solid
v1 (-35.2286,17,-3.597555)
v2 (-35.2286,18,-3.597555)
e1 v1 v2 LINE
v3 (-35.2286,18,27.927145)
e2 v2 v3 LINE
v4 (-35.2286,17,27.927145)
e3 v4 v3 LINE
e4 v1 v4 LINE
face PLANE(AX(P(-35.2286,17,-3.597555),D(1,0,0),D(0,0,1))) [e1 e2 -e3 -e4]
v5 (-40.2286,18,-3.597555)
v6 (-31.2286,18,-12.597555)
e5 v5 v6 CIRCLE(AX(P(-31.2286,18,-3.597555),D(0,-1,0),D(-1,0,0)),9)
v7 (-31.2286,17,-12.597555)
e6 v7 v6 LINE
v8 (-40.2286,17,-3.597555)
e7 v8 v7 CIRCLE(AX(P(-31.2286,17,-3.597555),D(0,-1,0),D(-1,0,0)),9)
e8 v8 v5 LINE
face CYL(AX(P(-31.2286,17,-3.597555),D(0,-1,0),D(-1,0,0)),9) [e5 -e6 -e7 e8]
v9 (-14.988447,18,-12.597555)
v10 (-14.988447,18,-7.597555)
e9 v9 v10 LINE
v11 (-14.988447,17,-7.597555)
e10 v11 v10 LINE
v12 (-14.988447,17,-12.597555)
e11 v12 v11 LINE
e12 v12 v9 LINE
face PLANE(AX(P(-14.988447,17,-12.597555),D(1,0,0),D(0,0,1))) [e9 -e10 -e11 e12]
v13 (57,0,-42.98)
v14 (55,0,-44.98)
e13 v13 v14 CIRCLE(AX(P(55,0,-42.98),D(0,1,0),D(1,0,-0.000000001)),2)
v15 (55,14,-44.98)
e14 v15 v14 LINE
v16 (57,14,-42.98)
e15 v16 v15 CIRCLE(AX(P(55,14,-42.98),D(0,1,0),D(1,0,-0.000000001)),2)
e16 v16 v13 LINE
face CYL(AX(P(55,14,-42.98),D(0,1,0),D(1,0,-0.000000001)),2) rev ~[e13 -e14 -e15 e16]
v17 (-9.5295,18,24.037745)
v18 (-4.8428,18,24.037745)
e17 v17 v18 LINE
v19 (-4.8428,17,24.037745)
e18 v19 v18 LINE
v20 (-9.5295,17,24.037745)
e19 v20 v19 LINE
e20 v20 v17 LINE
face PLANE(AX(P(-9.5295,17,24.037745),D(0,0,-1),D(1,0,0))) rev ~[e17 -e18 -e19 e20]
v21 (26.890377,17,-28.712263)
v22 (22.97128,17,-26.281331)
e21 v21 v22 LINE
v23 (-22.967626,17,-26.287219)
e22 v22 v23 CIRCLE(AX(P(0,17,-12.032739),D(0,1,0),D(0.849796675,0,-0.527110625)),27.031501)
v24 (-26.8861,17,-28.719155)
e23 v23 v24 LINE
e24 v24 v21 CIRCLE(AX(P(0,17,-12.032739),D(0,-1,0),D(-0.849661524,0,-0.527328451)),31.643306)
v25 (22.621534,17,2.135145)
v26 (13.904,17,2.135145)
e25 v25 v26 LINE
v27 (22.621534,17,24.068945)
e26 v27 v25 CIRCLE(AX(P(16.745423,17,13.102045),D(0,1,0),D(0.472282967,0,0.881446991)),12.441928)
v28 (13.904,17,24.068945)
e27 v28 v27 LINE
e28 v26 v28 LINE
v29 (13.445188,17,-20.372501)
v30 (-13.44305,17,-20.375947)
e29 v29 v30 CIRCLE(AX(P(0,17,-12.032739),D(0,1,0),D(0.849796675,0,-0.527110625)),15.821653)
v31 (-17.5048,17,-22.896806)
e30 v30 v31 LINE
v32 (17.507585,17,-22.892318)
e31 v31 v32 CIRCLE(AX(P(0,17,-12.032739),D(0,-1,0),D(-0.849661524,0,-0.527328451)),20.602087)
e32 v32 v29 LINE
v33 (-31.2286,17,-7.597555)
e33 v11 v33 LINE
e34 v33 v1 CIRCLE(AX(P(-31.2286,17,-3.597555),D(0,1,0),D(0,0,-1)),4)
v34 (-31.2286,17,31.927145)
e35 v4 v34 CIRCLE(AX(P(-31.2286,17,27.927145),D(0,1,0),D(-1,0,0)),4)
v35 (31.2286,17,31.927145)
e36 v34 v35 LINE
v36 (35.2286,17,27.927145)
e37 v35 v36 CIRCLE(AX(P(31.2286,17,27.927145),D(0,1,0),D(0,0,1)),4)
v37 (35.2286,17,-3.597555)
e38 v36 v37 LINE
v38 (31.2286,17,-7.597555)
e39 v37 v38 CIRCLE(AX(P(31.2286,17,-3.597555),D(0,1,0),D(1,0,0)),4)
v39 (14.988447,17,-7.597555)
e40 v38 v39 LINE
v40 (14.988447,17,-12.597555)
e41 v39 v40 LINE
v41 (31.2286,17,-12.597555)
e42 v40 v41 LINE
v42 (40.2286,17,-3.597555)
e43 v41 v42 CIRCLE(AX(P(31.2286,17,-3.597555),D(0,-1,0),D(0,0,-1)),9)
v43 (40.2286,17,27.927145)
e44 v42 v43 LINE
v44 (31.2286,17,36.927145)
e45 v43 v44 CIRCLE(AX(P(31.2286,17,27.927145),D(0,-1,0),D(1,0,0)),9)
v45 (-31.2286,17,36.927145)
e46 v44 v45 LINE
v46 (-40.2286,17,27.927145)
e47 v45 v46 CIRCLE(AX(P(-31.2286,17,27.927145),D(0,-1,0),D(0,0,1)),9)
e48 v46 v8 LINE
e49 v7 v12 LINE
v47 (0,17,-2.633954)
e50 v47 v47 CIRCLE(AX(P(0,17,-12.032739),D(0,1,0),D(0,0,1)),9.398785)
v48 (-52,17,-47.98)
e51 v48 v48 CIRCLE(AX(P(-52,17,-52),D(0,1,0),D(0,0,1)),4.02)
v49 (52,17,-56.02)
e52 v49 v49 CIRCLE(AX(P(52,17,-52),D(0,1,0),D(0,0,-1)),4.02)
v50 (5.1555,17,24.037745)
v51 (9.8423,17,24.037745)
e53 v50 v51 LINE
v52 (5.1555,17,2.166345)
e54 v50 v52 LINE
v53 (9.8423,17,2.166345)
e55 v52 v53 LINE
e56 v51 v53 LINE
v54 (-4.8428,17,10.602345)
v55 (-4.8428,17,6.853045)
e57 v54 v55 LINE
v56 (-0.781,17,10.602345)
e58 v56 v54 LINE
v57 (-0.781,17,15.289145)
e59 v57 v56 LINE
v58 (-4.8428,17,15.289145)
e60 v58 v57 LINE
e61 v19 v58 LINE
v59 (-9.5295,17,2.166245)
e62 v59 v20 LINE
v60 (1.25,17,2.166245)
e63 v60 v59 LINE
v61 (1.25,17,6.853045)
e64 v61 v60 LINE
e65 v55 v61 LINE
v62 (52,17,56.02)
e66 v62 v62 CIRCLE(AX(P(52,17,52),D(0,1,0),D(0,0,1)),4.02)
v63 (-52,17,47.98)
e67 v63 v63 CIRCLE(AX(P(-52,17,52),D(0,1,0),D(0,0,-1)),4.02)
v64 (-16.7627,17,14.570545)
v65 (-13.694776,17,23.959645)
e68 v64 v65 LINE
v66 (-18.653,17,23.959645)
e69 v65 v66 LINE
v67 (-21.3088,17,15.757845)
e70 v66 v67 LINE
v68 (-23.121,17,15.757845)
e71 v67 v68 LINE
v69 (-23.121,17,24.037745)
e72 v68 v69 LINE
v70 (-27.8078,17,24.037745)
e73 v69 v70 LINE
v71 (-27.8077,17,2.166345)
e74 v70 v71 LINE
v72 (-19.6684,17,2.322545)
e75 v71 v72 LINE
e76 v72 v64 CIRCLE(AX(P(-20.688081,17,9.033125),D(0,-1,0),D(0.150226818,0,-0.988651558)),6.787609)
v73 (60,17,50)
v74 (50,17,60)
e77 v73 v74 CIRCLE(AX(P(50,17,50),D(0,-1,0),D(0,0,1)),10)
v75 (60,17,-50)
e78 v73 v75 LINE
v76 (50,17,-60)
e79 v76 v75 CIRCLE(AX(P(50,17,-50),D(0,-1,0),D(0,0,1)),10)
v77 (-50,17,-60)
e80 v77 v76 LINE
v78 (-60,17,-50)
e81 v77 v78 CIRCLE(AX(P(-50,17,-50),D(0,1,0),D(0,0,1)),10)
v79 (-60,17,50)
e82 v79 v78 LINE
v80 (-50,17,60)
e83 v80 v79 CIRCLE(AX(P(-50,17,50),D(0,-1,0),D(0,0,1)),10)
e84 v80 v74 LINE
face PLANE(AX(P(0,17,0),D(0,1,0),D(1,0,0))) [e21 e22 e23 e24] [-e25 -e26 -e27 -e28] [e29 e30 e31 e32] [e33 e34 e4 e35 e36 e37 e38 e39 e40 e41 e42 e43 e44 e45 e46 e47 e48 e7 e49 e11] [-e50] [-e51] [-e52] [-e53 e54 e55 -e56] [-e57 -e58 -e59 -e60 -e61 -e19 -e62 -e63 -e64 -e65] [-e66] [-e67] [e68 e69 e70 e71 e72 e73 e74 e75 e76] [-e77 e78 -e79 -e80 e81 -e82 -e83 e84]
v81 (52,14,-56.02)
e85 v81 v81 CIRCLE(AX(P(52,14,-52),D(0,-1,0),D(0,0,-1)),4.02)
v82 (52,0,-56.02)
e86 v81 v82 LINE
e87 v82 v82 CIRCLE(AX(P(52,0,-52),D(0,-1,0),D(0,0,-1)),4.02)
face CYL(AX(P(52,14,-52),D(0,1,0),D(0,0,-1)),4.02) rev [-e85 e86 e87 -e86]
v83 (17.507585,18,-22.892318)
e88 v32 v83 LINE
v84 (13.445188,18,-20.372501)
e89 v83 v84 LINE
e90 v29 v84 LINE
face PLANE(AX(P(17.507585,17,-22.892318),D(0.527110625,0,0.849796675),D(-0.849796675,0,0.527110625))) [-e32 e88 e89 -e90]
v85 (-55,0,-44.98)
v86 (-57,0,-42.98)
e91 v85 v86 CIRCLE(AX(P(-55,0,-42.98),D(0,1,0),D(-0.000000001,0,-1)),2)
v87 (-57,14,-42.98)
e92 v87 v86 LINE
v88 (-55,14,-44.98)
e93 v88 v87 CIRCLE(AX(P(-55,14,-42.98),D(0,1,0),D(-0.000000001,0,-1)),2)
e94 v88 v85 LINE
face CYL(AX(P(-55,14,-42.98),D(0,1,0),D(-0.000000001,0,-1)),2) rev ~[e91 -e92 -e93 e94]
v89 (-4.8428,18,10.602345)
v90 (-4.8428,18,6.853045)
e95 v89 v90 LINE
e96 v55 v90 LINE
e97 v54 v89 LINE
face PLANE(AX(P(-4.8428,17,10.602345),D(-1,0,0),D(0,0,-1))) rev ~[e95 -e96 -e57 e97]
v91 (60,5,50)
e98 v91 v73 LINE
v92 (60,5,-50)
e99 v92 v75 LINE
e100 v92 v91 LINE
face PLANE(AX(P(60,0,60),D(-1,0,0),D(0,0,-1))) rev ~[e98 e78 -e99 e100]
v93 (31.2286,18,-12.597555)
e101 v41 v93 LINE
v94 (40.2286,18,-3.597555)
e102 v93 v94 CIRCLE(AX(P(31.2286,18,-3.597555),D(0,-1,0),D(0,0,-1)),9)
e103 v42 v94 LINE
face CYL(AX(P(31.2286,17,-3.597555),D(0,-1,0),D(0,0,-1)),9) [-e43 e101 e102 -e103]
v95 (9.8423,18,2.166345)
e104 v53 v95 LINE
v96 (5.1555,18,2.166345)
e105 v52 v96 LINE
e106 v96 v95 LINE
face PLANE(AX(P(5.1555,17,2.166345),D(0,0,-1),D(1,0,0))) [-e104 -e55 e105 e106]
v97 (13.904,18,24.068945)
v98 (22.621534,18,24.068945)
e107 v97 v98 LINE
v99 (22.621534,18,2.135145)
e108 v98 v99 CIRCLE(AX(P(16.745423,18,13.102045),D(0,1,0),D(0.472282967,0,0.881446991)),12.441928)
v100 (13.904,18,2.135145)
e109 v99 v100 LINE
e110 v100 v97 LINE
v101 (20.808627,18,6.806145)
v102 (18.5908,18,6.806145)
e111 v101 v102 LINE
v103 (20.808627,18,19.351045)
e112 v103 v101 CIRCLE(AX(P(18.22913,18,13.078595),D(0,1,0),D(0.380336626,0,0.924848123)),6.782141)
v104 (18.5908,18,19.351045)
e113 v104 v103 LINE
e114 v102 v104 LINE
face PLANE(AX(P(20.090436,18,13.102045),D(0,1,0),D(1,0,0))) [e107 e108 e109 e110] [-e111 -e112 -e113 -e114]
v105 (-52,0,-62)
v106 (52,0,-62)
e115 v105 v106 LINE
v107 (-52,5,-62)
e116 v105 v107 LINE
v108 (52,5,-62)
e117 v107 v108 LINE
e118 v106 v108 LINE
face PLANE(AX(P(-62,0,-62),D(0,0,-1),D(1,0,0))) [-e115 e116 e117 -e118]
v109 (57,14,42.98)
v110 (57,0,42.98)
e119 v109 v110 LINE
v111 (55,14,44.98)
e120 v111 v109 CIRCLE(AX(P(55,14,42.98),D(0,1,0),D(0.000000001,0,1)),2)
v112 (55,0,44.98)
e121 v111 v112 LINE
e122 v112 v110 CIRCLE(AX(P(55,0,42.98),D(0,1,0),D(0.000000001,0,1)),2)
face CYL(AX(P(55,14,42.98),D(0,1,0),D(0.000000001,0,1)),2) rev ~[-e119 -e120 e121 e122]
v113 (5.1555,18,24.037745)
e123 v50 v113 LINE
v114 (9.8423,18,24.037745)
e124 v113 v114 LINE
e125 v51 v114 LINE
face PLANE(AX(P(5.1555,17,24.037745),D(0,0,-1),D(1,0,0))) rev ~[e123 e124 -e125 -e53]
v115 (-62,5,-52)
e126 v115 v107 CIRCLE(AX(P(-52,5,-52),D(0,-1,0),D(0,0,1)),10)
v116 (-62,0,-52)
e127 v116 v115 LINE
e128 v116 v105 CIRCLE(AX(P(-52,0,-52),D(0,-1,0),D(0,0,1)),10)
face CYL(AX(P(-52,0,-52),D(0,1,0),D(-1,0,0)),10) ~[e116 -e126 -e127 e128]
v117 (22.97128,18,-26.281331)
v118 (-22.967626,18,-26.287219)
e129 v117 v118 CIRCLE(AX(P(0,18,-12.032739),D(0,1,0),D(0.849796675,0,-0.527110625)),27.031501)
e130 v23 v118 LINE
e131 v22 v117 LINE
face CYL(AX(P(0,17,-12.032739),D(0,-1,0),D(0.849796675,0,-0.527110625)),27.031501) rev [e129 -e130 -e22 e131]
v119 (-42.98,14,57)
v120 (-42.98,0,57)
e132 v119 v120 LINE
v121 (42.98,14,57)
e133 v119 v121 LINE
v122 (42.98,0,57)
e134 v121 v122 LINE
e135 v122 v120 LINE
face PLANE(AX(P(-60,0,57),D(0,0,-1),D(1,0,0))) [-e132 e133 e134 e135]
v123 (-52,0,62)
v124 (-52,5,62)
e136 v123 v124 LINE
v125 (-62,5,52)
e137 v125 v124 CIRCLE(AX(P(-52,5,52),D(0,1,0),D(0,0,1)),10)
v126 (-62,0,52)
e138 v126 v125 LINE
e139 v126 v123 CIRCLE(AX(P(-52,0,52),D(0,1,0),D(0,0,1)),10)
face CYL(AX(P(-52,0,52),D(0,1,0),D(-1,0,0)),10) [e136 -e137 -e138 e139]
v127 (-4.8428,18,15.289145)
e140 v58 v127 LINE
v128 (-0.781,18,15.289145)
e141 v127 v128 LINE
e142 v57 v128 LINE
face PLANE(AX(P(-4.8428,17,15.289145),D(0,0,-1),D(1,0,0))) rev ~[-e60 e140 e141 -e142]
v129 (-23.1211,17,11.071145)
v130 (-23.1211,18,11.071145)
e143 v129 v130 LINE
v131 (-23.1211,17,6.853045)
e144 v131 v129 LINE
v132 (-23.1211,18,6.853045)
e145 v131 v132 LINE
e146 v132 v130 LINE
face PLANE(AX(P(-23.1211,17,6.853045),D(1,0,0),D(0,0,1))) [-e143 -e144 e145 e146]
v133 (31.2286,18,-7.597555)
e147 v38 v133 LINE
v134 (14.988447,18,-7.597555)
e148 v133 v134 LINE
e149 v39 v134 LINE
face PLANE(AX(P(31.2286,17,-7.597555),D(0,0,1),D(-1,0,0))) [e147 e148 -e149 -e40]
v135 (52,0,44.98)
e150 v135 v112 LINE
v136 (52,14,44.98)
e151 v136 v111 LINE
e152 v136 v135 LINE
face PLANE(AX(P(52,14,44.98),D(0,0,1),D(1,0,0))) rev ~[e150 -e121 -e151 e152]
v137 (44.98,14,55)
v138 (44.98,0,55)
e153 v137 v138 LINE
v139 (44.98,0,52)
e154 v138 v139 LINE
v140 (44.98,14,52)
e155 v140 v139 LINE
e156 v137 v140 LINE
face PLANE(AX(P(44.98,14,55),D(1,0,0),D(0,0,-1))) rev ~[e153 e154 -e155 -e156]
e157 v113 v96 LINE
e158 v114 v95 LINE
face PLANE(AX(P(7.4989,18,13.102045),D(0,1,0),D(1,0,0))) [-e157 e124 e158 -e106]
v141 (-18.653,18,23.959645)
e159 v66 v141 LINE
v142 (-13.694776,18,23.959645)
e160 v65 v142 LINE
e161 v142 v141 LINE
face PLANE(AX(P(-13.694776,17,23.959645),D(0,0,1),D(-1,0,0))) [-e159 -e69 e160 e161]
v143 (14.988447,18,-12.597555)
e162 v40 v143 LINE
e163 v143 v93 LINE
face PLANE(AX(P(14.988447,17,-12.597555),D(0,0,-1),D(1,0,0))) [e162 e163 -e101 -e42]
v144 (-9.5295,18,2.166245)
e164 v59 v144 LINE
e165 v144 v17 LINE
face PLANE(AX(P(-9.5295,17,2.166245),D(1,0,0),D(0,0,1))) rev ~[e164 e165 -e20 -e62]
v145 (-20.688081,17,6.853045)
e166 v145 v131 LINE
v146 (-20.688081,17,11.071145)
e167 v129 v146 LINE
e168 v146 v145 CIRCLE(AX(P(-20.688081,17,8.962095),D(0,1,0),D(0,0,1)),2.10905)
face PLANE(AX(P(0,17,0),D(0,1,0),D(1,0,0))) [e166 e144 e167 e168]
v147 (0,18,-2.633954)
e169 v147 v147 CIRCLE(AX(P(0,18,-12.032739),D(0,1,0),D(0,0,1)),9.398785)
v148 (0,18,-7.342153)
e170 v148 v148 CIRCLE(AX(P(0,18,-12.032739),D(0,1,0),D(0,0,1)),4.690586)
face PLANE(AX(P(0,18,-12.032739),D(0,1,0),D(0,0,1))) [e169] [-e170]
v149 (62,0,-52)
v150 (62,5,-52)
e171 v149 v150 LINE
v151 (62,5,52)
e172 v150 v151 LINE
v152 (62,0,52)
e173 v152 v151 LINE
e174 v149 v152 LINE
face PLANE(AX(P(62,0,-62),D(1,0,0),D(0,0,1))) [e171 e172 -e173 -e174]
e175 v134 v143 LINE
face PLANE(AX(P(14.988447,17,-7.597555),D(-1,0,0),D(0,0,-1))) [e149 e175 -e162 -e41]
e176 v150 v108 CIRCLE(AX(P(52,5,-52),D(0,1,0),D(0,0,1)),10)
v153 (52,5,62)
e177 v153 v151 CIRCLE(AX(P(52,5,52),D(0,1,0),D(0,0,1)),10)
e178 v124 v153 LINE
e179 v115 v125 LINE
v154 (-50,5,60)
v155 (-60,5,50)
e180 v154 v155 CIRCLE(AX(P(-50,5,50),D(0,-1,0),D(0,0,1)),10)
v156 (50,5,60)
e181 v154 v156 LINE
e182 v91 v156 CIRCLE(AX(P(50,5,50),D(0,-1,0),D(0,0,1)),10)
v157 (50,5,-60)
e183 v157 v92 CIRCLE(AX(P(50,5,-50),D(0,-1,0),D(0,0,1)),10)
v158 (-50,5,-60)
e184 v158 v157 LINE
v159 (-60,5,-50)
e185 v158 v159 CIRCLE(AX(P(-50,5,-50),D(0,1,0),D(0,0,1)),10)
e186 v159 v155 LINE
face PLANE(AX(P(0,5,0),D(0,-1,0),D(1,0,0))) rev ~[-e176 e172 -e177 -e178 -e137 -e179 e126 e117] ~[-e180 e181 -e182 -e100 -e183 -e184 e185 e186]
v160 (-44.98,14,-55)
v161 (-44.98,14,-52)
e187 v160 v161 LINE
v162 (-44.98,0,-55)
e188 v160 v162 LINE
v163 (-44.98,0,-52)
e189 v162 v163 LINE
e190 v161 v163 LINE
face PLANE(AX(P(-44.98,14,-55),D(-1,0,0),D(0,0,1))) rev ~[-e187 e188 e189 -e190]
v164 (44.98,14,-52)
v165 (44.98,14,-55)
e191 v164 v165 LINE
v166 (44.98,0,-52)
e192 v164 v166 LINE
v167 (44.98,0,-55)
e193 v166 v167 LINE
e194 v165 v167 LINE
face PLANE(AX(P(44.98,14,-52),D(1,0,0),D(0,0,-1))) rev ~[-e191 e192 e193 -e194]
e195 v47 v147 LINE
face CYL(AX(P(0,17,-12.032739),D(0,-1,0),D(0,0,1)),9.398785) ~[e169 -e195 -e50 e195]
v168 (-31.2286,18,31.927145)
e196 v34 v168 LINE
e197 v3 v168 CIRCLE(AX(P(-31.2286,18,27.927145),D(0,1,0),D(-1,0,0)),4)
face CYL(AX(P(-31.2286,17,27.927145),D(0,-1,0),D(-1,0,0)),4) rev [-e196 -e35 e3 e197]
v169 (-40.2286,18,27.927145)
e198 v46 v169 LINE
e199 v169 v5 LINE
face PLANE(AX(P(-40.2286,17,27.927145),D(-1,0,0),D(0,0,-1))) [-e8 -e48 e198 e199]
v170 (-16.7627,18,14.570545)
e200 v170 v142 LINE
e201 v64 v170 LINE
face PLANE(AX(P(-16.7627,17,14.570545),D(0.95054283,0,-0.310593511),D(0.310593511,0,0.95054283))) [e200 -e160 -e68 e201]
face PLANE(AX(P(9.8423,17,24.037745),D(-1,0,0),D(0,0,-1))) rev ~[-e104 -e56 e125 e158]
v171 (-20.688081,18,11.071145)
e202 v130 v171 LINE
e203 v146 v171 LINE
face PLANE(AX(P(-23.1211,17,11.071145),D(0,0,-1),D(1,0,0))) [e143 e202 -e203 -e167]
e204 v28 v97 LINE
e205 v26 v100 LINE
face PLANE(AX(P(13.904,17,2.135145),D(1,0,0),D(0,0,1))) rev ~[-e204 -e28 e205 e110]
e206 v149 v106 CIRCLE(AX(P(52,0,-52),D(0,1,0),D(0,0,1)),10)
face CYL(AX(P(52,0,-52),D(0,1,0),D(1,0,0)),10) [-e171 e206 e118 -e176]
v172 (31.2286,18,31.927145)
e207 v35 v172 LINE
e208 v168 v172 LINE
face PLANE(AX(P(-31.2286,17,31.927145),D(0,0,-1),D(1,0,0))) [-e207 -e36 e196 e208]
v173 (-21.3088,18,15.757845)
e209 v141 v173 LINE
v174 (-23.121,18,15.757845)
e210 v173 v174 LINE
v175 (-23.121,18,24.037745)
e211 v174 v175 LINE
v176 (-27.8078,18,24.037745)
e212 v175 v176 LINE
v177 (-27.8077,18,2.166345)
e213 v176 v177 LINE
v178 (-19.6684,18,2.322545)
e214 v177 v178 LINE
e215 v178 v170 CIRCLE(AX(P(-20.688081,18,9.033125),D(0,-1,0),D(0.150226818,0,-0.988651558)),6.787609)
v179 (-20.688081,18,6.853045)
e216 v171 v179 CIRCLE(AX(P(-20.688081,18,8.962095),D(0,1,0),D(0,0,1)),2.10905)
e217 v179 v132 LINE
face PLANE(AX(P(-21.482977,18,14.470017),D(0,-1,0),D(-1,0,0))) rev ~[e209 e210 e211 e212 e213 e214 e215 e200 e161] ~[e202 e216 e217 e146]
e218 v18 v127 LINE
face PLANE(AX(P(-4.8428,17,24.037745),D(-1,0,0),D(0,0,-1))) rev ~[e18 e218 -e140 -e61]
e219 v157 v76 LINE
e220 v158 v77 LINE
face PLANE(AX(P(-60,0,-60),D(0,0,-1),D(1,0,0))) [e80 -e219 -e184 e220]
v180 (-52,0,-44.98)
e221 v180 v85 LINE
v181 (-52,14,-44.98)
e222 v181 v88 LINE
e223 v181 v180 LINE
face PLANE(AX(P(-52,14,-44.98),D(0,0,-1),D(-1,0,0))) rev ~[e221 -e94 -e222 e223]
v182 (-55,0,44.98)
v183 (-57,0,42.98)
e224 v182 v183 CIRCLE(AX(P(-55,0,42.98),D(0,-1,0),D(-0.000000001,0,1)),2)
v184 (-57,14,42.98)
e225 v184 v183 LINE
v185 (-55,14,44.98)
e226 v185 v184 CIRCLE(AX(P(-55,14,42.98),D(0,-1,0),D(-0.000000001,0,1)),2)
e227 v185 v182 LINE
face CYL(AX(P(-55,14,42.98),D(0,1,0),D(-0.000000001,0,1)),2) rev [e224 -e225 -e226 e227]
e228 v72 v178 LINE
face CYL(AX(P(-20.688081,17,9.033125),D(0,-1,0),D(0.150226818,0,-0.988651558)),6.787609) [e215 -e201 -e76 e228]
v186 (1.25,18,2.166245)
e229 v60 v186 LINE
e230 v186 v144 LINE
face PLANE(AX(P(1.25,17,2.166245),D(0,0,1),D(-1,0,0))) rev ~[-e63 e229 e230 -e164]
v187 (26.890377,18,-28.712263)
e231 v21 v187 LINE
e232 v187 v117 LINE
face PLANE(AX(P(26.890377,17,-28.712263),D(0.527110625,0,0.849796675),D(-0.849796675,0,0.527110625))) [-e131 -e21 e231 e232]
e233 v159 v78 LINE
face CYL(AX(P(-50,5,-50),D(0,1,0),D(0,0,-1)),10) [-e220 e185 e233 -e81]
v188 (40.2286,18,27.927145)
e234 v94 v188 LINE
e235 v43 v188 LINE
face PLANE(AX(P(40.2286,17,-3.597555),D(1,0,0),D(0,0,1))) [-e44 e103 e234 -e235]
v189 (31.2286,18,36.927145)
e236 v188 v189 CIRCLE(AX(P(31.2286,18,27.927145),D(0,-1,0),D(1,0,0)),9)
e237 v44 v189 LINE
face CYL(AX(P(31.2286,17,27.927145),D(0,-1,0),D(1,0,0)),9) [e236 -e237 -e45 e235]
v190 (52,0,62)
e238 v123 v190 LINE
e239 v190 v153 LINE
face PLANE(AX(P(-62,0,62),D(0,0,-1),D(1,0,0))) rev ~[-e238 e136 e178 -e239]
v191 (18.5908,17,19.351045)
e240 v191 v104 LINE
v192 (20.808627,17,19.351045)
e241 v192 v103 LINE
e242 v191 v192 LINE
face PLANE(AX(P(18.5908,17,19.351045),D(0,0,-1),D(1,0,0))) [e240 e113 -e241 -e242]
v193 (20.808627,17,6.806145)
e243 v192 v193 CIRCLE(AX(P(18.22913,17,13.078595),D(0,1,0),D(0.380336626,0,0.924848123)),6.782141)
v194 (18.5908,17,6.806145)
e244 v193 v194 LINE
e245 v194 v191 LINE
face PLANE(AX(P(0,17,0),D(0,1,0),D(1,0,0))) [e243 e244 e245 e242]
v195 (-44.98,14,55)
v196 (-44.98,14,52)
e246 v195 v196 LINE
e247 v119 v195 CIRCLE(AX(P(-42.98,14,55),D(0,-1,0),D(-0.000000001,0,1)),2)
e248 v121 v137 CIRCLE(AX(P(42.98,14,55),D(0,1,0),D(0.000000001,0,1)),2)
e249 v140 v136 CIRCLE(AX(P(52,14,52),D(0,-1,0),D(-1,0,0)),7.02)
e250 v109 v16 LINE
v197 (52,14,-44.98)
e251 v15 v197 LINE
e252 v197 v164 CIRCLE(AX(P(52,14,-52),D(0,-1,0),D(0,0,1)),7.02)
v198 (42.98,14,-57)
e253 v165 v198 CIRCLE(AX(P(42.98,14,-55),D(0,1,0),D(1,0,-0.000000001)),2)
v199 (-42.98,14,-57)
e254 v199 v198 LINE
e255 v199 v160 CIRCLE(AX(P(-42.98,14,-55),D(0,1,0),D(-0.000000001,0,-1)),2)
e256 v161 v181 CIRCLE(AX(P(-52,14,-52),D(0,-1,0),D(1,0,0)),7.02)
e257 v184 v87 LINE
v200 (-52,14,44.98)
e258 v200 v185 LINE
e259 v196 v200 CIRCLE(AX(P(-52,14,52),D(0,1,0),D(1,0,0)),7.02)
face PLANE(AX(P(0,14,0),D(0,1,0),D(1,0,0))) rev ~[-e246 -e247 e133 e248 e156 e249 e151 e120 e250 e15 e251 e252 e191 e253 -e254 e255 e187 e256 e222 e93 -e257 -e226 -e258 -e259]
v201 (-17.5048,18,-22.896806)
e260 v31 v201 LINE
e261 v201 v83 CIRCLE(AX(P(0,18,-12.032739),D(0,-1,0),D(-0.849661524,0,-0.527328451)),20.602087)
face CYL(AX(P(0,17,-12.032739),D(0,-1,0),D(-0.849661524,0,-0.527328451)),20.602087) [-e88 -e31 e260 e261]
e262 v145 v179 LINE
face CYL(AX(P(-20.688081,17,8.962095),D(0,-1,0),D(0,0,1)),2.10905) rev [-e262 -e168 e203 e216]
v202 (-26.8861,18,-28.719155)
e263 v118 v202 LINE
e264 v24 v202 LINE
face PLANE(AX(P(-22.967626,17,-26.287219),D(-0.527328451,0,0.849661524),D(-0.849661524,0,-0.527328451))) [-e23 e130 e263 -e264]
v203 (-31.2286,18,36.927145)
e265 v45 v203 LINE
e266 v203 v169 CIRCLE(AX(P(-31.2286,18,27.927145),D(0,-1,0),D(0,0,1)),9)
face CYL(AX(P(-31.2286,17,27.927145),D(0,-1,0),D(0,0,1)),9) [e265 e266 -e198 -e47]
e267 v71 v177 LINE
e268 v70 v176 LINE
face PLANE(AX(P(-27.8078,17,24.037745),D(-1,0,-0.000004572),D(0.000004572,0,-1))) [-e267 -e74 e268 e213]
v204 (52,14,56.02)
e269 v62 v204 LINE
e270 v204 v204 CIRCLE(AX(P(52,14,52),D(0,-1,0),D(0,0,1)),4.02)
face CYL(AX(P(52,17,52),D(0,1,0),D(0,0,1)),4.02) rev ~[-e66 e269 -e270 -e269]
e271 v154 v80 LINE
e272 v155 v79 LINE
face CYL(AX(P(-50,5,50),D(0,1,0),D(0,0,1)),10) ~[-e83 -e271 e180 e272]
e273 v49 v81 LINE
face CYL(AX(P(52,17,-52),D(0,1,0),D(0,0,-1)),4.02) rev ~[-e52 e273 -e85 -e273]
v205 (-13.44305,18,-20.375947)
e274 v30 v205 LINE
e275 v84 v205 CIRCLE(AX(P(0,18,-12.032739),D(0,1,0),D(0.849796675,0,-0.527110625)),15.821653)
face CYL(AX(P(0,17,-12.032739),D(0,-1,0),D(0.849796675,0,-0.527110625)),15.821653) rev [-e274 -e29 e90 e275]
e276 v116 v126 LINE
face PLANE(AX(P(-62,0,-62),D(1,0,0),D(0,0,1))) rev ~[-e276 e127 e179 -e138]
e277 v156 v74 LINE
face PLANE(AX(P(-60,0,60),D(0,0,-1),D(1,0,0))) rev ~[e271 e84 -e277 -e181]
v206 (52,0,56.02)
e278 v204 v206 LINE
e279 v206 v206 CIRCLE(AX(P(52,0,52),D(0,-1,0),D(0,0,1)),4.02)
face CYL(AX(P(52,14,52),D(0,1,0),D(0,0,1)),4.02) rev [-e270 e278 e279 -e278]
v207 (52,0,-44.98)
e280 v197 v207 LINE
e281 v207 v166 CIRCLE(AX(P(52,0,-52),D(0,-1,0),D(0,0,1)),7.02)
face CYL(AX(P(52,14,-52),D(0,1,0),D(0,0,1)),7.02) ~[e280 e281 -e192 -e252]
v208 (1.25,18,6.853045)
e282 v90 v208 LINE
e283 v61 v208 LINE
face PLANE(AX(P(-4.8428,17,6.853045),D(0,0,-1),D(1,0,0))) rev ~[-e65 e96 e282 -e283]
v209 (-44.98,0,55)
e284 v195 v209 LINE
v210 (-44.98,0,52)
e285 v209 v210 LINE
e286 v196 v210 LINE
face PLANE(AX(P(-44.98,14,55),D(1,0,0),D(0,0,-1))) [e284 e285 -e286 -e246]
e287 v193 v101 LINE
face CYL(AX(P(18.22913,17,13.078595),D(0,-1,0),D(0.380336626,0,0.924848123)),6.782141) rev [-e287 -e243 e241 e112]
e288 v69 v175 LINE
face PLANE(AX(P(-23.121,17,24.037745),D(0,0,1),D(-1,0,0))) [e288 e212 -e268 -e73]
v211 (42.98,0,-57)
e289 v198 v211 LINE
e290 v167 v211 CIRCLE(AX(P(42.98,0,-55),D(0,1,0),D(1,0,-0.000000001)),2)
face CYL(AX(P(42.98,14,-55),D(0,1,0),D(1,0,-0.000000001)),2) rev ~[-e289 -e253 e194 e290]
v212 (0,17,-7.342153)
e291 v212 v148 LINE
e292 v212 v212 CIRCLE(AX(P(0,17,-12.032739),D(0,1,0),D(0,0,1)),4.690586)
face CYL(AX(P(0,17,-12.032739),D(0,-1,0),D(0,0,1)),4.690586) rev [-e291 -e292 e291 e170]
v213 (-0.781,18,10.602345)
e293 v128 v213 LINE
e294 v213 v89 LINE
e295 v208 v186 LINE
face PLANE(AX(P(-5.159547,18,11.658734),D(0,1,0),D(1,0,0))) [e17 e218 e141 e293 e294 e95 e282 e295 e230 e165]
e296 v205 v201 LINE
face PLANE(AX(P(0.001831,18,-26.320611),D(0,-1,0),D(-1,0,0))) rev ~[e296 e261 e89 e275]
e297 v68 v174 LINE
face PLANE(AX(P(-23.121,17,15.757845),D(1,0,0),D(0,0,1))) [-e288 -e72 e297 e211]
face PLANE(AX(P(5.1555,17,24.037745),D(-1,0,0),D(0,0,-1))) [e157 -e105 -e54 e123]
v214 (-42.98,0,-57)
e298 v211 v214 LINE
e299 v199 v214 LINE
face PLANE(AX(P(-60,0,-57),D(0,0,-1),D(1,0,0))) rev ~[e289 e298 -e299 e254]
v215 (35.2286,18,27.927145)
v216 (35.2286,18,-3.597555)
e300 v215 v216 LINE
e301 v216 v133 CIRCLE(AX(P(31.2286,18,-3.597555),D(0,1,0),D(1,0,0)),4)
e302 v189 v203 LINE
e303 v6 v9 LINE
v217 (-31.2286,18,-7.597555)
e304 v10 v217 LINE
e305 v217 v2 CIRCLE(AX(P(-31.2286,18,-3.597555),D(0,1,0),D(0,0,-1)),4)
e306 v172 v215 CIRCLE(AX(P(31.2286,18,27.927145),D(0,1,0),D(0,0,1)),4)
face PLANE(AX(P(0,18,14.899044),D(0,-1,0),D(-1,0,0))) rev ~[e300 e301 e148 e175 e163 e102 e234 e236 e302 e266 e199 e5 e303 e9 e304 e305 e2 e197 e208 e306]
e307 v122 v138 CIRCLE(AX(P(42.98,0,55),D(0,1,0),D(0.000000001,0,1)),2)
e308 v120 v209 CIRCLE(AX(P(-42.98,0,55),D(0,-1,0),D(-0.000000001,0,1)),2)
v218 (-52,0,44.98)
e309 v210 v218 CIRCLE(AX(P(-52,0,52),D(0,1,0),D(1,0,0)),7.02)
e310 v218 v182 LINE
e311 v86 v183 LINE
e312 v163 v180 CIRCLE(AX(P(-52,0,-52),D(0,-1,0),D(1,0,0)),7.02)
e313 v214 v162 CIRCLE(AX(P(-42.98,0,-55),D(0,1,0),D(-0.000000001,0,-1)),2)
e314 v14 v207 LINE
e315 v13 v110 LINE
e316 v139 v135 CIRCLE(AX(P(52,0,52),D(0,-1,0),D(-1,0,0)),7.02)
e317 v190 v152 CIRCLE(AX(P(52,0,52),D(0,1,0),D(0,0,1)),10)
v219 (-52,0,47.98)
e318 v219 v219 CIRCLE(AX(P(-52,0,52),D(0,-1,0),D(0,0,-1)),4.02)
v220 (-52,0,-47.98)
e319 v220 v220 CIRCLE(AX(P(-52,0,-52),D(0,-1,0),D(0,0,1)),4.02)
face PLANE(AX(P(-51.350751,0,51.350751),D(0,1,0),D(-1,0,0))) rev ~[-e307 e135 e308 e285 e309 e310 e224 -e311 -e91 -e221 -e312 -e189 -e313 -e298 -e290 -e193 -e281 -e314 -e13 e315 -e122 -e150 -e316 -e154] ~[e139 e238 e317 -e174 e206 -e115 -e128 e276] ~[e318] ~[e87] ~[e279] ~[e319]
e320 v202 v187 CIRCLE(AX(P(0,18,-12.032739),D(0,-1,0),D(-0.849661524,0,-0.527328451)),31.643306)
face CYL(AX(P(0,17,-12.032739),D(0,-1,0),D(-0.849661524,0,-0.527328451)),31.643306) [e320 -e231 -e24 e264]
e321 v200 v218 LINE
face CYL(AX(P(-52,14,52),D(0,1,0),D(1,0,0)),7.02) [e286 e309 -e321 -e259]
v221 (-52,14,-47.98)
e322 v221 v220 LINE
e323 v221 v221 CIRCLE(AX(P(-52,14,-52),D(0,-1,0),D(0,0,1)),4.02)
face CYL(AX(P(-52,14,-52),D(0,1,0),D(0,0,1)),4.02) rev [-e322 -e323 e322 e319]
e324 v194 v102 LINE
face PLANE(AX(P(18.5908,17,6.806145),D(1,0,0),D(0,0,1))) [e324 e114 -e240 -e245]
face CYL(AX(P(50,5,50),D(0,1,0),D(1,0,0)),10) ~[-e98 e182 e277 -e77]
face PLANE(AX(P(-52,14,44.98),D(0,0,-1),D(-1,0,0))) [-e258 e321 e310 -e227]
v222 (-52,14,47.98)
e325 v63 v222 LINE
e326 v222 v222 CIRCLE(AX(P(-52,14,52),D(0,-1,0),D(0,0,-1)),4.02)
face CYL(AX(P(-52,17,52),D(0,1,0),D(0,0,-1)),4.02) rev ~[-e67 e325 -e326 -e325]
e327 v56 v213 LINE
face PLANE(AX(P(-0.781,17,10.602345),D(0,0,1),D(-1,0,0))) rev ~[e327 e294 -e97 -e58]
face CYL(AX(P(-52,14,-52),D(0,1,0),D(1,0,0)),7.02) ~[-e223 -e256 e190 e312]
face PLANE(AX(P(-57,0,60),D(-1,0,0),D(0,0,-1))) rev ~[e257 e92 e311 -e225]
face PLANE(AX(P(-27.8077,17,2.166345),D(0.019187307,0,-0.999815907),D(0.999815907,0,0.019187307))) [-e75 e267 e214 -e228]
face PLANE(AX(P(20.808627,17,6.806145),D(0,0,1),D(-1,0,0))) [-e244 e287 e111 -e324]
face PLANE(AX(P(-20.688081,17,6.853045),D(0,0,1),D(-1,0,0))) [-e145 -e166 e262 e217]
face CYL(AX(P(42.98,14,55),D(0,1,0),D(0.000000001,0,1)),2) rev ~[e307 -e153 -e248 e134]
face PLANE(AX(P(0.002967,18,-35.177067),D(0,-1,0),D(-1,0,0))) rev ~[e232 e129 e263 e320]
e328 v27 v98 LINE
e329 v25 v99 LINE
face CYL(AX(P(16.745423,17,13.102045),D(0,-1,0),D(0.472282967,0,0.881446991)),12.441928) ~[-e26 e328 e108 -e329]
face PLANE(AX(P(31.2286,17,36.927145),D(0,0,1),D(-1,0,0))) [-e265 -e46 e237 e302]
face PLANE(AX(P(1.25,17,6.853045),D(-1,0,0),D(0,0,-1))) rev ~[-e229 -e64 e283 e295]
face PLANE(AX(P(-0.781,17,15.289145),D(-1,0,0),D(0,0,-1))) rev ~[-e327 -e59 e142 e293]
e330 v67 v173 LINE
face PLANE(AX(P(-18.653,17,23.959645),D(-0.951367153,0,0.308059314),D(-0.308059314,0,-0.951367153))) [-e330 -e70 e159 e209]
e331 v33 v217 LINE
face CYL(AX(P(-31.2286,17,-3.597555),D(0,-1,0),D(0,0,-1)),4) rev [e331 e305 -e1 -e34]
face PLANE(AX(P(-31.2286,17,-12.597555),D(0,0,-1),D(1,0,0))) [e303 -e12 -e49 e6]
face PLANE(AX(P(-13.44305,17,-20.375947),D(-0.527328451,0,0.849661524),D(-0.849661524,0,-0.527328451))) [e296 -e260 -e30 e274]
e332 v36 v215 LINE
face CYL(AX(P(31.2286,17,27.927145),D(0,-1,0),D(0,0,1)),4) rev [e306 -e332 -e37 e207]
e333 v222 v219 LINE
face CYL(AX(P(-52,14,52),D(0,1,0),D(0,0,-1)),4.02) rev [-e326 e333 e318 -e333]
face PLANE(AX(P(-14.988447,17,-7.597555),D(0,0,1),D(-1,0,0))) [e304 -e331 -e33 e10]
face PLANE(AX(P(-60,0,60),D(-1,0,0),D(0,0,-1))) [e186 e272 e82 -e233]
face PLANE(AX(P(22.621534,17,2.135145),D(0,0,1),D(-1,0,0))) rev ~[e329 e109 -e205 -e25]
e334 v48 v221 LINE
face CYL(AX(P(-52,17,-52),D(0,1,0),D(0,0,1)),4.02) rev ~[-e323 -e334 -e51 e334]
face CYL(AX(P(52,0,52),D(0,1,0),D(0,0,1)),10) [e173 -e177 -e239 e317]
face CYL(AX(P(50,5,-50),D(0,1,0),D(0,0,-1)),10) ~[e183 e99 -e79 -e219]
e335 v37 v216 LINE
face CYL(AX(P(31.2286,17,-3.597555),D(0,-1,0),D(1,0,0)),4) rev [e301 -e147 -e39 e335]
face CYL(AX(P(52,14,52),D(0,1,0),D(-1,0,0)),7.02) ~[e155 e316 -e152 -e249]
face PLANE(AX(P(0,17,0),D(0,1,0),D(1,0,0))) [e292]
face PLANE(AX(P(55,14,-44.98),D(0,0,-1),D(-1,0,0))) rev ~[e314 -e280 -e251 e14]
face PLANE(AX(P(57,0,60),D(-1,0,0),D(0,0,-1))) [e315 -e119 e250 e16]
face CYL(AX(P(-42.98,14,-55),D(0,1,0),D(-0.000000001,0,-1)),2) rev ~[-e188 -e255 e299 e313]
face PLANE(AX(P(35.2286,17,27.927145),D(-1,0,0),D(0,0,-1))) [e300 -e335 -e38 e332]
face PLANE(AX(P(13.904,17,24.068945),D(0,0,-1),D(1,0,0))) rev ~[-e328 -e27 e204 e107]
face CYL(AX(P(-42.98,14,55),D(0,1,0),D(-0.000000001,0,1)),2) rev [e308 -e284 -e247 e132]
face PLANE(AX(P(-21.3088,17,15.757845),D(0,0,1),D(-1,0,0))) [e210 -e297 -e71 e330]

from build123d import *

# Parameters (mm, degrees)
SKETCH1_W           = 120
SKETCH1_H           = 120
BOSS_EXTRUDE1_DEPTH = 17
SHELL1_T            = -3
SKETCH2_W           = 124
SKETCH2_H           = 124
SKETCH2_W_2         = 120
SKETCH2_H_2         = 120
BOSS_EXTRUDE2_DEPTH = 5
SKETCH4_R           = 4.02
BOSS_EXTRUDE3_DEPTH = 14
SKETCH3_R           = 4.02
CUT_EXTRUDE1_DEPTH  = 3
FILLET1_R           = 10
SKETCH9_R           = 9.39878502
SKETCH9_R_2         = 4.690586007
SKETCH9_W           = 4.6868
SKETCH9_H           = 21.8714
BOSS_EXTRUDE7_DEPTH = 1


with BuildPart() as part:
    # Sketch1 → Boss-Extrude1 (new body)
    with BuildSketch(Plane(origin=(0, 0, 0), x_dir=(1, 0, 0), z_dir=(0, 1, 0))):
        Rectangle(SKETCH1_W, SKETCH1_H)
    extrude(amount=BOSS_EXTRUDE1_DEPTH)

    # Shell1
    shell1_openings = [part.faces().sort_by_distance(p)[0] for p in [
        (0, 0, 0),
    ]]
    offset(amount=SHELL1_T, openings=shell1_openings, kind=Kind.INTERSECTION)

    # Sketch2 → Boss-Extrude2 (add)
    with BuildSketch(Plane.XZ):
        Rectangle(SKETCH2_W, SKETCH2_H)
        Rectangle(SKETCH2_W_2, SKETCH2_H_2, mode=Mode.SUBTRACT)
    extrude(amount=-BOSS_EXTRUDE2_DEPTH)

    # Sketch4 → Boss-Extrude3 (add)
    # profile 1 of 4: a face of its own
    with BuildSketch(Plane.XZ.offset(-14)):
        with BuildLine():
            Line((-57, 42.98), (-57, 57))
            Line((-57, 57), (-42.98, 57))
            ThreePointArc((-42.98, 57), (-44.394213562, 56.414213562), (-44.98, 55))
            Line((-44.98, 55), (-44.98, 52))
            ThreePointArc((-44.98, 52), (-47.036110396, 47.036110396), (-52, 44.98))
            Line((-52, 44.98), (-55, 44.98))
            ThreePointArc((-55, 44.98), (-56.414213562, 44.394213562), (-57, 42.98))
        make_face()
        with Locations(Location((-52, 52, 0), (0, 0, 270))):
            Circle(SKETCH4_R, mode=Mode.SUBTRACT)
    # profile 2 of 4: a face of its own
    with BuildSketch(Plane.XZ.offset(-14)):
        with BuildLine():
            Line((57, 42.98), (57, 57))
            Line((57, 57), (42.98, 57))
            ThreePointArc((42.98, 57), (44.394213562, 56.414213562), (44.98, 55))
            Line((44.98, 55), (44.98, 52))
            ThreePointArc((44.98, 52), (47.036110396, 47.036110396), (52, 44.98))
            Line((52, 44.98), (55, 44.98))
            ThreePointArc((55, 44.98), (56.414213562, 44.394213562), (57, 42.98))
        make_face()
        with Locations(Location((52, 52, 0), (0, 0, 90))):
            Circle(SKETCH4_R, mode=Mode.SUBTRACT)
    # profile 3 of 4: a face of its own
    with BuildSketch(Plane.XZ.offset(-14)):
        with BuildLine():
            Line((55, -44.98), (52, -44.98))
            ThreePointArc((52, -44.98), (47.036110396, -47.036110396), (44.98, -52))
            Line((44.98, -52), (44.98, -55))
            ThreePointArc((44.98, -55), (44.394213562, -56.414213562), (42.98, -57))
            Line((42.98, -57), (57, -57))
            Line((57, -57), (57, -42.98))
            ThreePointArc((57, -42.98), (56.414213562, -44.394213562), (55, -44.98))
        make_face()
        with Locations(Location((52, -52, 0), (0, 0, 270))):
            Circle(SKETCH4_R, mode=Mode.SUBTRACT)
    # profile 4 of 4: a face of its own
    with BuildSketch(Plane.XZ.offset(-14)):
        with BuildLine():
            Line((-57, -42.98), (-57, -57))
            Line((-57, -57), (-42.98, -57))
            ThreePointArc((-42.98, -57), (-44.394213562, -56.414213562), (-44.98, -55))
            Line((-44.98, -55), (-44.98, -52))
            ThreePointArc((-44.98, -52), (-47.036110396, -47.036110396), (-52, -44.98))
            Line((-52, -44.98), (-55, -44.98))
            ThreePointArc((-55, -44.98), (-56.414213562, -44.394213562), (-57, -42.98))
        make_face()
        with Locations(Location((-52, -52, 0), (0, 0, 90))):
            Circle(SKETCH4_R, mode=Mode.SUBTRACT)
    extrude(amount=BOSS_EXTRUDE3_DEPTH)

    # Sketch3 → Cut-Extrude1 (cut)
    with BuildSketch(Plane(origin=(0, 17, 0), x_dir=(1, 0, 0), z_dir=(0, 1, 0))):
        with Locations(Location((-52, 52, 0), (0, 0, 270))):
            Circle(SKETCH3_R)
        with Locations(Location((52, 52, 0), (0, 0, 90))):
            Circle(SKETCH3_R)
        with Locations(Location((52, -52, 0), (0, 0, 270))):
            Circle(SKETCH3_R)
        with Locations(Location((-52, -52, 0), (0, 0, 90))):
            Circle(SKETCH3_R)
    extrude(amount=-CUT_EXTRUDE1_DEPTH, mode=Mode.SUBTRACT)

    # Fillet1
    fillet1_edges = [part.edges().sort_by_distance(p)[0] for p in [
        (62, 2.5, -62),
        (-62, 2.5, -62),
        (-62, 2.5, 62),
        (62, 2.5, 62),
        (60, 11, 60),
        (-60, 11, 60),
        (-60, 11, -60),
        (60, 11, -60),
    ]]
    fillet(fillet1_edges, radius=FILLET1_R)

    # Sketch9 → Boss-Extrude7 (add)
    # profile 1 of 8: a face of its own
    with BuildSketch(Plane(origin=(0, 17, 0), x_dir=(1, 0, 0), z_dir=(0, 1, 0))):
        with Locations(Location((0, 12.032739488, 0), (0, 0, 270))):
            Circle(SKETCH9_R)
        with Locations(Location((0, 12.032739488, 0), (0, 0, 270))):
            Circle(SKETCH9_R_2, mode=Mode.SUBTRACT)
    # profile 2 of 8: a face of its own
    with BuildSketch(Plane(origin=(0, 17, 0), x_dir=(1, 0, 0), z_dir=(0, 1, 0))):
        with BuildLine():
            Line((-13.44305, 20.375947386), (-17.50480026, 22.896805886))
            ThreePointArc((-17.50480026, 22.896805886), (0.002640651, 32.634825883), (17.507584665, 22.892318209))
            Line((17.507584665, 22.892318209), (13.445188322, 20.372501014))
            ThreePointArc((13.445188322, 20.372501014), (0.002027924, 27.854392601), (-13.44305, 20.375947386))
        make_face()
    # profile 3 of 8: a face of its own
    with BuildSketch(Plane(origin=(0, 17, 0), x_dir=(1, 0, 0), z_dir=(0, 1, 0))):
        with BuildLine():
            Line((-40.2286, -27.927144715), (-40.2286, 3.597555285))
            ThreePointArc((-40.2286, 3.597555285), (-37.592561031, 9.961516315), (-31.2286, 12.597555285))
            Line((-31.2286, 12.597555285), (-14.988446655, 12.597555285))
            Line((-14.988446655, 12.597555285), (-14.988446655, 7.597555285))
            Line((-14.988446655, 7.597555285), (-31.2286, 7.597555285))
            ThreePointArc((-31.2286, 7.597555285), (-34.057027125, 6.42598241), (-35.2286, 3.597555285))
            Line((-35.2286, 3.597555285), (-35.2286, -27.927144715))
            ThreePointArc((-35.2286, -27.927144715), (-34.057027125, -30.75557184), (-31.2286, -31.927144715))
            Line((-31.2286, -31.927144715), (31.2286, -31.927144715))
            ThreePointArc((31.2286, -31.927144715), (34.057027125, -30.75557184), (35.2286, -27.927144715))
            Line((35.2286, -27.927144715), (35.2286, 3.597555285))
            ThreePointArc((35.2286, 3.597555285), (34.057027125, 6.42598241), (31.2286, 7.597555285))
            Line((31.2286, 7.597555285), (14.988446655, 7.597555285))
            Line((14.988446655, 7.597555285), (14.988446655, 12.597555285))
            Line((14.988446655, 12.597555285), (31.2286, 12.597555285))
            ThreePointArc((31.2286, 12.597555285), (37.592561031, 9.961516315), (40.2286, 3.597555285))
            Line((40.2286, 3.597555285), (40.2286, -27.927144715))
            ThreePointArc((40.2286, -27.927144715), (37.592561031, -34.291105746), (31.2286, -36.927144715))
            Line((31.2286, -36.927144715), (-31.2286, -36.927144715))
            ThreePointArc((-31.2286, -36.927144715), (-37.592561031, -34.291105746), (-40.2286, -27.927144715))
        make_face()
    # profile 4 of 8: a face of its own
    with BuildSketch(Plane(origin=(0, 17, 0), x_dir=(1, 0, 0), z_dir=(0, 1, 0))):
        with BuildLine():
            Line((-22.967626314, 26.287219035), (-26.8861, 28.719155285))
            ThreePointArc((-26.8861, 28.719155285), (0.004055848, 43.676045714), (26.890376645, 28.712262541))
            Line((26.890376645, 28.712262541), (22.971279665, 26.281330863))
            ThreePointArc((22.971279665, 26.281330863), (0.003464735, 39.064240253), (-22.967626314, 26.287219035))
        make_face()
    # profile 5 of 8: a face of its own
    with BuildSketch(Plane(origin=(0, 17, 0), x_dir=(1, 0, 0), z_dir=(0, 1, 0))):
        with BuildLine():
            Line((-27.8078, -24.037744715), (-27.8077, -2.166344715))
            Line((-27.8077, -2.166344715), (-19.6684, -2.322544715))
            ThreePointArc((-19.6684, -2.322544715), (-14.083780395, -7.46632893), (-16.7627, -14.570544715))
            Line((-16.7627, -14.570544715), (-13.694775607, -23.959644715))
            Line((-13.694775607, -23.959644715), (-18.653, -23.959644715))
            Line((-18.653, -23.959644715), (-21.3088, -15.757844715))
            Line((-21.3088, -15.757844715), (-23.121, -15.757844715))
            Line((-23.121, -15.757844715), (-23.121, -24.037744715))
            Line((-23.121, -24.037744715), (-27.8078, -24.037744715))
        make_face()
        with BuildLine():
            Line((-23.1211, -6.853044715), (-23.1211, -11.071144715))
            Line((-23.1211, -11.071144715), (-20.688080887, -11.071144715))
            ThreePointArc((-20.688080887, -11.071144715), (-18.579030887, -8.962094715), (-20.688080887, -6.853044715))
            Line((-20.688080887, -6.853044715), (-23.1211, -6.853044715))
        make_face(mode=Mode.SUBTRACT)
    # profile 6 of 8: a face of its own
    with BuildSketch(Plane(origin=(0, 17, 0), x_dir=(1, 0, 0), z_dir=(0, 1, 0))):
        Polygon((-9.5295, -2.166244715), (-9.5295, -24.037744715), (-4.8428, -24.037744715), (-4.8428, -15.289144715), (-0.781, -15.289144715), (-0.781, -10.602344715), (-4.8428, -10.602344715), (-4.8428, -6.853044715), (1.25, -6.853044715), (1.25, -2.166244715), align=None)
    # profile 7 of 8: a face of its own
    with BuildSketch(Plane(origin=(0, 17, 0), x_dir=(1, 0, 0), z_dir=(0, 1, 0))):
        with Locations((7.4989, -13.102044715)):
            Rectangle(SKETCH9_W, SKETCH9_H)
    # profile 8 of 8: a face of its own
    with BuildSketch(Plane(origin=(0, 17, 0), x_dir=(1, 0, 0), z_dir=(0, 1, 0))):
        with BuildLine():
            Line((13.904, -2.135144715), (13.904, -24.068944715))
            Line((13.904, -24.068944715), (22.62153415, -24.068944715))
            ThreePointArc((22.62153415, -24.068944715), (29.187351473, -13.102044715), (22.62153415, -2.135144715))
            Line((22.62153415, -2.135144715), (13.904, -2.135144715))
        make_face()
        with BuildLine():
            Line((18.5908, -6.806144715), (18.5908, -19.351044715))
            Line((18.5908, -19.351044715), (20.808626637, -19.351044715))
            ThreePointArc((20.808626637, -19.351044715), (25.011270759, -13.078594715), (20.808626637, -6.806144715))
            Line((20.808626637, -6.806144715), (18.5908, -6.806144715))
        make_face(mode=Mode.SUBTRACT)
    extrude(amount=BOSS_EXTRUDE7_DEPTH)


solid = part.part
